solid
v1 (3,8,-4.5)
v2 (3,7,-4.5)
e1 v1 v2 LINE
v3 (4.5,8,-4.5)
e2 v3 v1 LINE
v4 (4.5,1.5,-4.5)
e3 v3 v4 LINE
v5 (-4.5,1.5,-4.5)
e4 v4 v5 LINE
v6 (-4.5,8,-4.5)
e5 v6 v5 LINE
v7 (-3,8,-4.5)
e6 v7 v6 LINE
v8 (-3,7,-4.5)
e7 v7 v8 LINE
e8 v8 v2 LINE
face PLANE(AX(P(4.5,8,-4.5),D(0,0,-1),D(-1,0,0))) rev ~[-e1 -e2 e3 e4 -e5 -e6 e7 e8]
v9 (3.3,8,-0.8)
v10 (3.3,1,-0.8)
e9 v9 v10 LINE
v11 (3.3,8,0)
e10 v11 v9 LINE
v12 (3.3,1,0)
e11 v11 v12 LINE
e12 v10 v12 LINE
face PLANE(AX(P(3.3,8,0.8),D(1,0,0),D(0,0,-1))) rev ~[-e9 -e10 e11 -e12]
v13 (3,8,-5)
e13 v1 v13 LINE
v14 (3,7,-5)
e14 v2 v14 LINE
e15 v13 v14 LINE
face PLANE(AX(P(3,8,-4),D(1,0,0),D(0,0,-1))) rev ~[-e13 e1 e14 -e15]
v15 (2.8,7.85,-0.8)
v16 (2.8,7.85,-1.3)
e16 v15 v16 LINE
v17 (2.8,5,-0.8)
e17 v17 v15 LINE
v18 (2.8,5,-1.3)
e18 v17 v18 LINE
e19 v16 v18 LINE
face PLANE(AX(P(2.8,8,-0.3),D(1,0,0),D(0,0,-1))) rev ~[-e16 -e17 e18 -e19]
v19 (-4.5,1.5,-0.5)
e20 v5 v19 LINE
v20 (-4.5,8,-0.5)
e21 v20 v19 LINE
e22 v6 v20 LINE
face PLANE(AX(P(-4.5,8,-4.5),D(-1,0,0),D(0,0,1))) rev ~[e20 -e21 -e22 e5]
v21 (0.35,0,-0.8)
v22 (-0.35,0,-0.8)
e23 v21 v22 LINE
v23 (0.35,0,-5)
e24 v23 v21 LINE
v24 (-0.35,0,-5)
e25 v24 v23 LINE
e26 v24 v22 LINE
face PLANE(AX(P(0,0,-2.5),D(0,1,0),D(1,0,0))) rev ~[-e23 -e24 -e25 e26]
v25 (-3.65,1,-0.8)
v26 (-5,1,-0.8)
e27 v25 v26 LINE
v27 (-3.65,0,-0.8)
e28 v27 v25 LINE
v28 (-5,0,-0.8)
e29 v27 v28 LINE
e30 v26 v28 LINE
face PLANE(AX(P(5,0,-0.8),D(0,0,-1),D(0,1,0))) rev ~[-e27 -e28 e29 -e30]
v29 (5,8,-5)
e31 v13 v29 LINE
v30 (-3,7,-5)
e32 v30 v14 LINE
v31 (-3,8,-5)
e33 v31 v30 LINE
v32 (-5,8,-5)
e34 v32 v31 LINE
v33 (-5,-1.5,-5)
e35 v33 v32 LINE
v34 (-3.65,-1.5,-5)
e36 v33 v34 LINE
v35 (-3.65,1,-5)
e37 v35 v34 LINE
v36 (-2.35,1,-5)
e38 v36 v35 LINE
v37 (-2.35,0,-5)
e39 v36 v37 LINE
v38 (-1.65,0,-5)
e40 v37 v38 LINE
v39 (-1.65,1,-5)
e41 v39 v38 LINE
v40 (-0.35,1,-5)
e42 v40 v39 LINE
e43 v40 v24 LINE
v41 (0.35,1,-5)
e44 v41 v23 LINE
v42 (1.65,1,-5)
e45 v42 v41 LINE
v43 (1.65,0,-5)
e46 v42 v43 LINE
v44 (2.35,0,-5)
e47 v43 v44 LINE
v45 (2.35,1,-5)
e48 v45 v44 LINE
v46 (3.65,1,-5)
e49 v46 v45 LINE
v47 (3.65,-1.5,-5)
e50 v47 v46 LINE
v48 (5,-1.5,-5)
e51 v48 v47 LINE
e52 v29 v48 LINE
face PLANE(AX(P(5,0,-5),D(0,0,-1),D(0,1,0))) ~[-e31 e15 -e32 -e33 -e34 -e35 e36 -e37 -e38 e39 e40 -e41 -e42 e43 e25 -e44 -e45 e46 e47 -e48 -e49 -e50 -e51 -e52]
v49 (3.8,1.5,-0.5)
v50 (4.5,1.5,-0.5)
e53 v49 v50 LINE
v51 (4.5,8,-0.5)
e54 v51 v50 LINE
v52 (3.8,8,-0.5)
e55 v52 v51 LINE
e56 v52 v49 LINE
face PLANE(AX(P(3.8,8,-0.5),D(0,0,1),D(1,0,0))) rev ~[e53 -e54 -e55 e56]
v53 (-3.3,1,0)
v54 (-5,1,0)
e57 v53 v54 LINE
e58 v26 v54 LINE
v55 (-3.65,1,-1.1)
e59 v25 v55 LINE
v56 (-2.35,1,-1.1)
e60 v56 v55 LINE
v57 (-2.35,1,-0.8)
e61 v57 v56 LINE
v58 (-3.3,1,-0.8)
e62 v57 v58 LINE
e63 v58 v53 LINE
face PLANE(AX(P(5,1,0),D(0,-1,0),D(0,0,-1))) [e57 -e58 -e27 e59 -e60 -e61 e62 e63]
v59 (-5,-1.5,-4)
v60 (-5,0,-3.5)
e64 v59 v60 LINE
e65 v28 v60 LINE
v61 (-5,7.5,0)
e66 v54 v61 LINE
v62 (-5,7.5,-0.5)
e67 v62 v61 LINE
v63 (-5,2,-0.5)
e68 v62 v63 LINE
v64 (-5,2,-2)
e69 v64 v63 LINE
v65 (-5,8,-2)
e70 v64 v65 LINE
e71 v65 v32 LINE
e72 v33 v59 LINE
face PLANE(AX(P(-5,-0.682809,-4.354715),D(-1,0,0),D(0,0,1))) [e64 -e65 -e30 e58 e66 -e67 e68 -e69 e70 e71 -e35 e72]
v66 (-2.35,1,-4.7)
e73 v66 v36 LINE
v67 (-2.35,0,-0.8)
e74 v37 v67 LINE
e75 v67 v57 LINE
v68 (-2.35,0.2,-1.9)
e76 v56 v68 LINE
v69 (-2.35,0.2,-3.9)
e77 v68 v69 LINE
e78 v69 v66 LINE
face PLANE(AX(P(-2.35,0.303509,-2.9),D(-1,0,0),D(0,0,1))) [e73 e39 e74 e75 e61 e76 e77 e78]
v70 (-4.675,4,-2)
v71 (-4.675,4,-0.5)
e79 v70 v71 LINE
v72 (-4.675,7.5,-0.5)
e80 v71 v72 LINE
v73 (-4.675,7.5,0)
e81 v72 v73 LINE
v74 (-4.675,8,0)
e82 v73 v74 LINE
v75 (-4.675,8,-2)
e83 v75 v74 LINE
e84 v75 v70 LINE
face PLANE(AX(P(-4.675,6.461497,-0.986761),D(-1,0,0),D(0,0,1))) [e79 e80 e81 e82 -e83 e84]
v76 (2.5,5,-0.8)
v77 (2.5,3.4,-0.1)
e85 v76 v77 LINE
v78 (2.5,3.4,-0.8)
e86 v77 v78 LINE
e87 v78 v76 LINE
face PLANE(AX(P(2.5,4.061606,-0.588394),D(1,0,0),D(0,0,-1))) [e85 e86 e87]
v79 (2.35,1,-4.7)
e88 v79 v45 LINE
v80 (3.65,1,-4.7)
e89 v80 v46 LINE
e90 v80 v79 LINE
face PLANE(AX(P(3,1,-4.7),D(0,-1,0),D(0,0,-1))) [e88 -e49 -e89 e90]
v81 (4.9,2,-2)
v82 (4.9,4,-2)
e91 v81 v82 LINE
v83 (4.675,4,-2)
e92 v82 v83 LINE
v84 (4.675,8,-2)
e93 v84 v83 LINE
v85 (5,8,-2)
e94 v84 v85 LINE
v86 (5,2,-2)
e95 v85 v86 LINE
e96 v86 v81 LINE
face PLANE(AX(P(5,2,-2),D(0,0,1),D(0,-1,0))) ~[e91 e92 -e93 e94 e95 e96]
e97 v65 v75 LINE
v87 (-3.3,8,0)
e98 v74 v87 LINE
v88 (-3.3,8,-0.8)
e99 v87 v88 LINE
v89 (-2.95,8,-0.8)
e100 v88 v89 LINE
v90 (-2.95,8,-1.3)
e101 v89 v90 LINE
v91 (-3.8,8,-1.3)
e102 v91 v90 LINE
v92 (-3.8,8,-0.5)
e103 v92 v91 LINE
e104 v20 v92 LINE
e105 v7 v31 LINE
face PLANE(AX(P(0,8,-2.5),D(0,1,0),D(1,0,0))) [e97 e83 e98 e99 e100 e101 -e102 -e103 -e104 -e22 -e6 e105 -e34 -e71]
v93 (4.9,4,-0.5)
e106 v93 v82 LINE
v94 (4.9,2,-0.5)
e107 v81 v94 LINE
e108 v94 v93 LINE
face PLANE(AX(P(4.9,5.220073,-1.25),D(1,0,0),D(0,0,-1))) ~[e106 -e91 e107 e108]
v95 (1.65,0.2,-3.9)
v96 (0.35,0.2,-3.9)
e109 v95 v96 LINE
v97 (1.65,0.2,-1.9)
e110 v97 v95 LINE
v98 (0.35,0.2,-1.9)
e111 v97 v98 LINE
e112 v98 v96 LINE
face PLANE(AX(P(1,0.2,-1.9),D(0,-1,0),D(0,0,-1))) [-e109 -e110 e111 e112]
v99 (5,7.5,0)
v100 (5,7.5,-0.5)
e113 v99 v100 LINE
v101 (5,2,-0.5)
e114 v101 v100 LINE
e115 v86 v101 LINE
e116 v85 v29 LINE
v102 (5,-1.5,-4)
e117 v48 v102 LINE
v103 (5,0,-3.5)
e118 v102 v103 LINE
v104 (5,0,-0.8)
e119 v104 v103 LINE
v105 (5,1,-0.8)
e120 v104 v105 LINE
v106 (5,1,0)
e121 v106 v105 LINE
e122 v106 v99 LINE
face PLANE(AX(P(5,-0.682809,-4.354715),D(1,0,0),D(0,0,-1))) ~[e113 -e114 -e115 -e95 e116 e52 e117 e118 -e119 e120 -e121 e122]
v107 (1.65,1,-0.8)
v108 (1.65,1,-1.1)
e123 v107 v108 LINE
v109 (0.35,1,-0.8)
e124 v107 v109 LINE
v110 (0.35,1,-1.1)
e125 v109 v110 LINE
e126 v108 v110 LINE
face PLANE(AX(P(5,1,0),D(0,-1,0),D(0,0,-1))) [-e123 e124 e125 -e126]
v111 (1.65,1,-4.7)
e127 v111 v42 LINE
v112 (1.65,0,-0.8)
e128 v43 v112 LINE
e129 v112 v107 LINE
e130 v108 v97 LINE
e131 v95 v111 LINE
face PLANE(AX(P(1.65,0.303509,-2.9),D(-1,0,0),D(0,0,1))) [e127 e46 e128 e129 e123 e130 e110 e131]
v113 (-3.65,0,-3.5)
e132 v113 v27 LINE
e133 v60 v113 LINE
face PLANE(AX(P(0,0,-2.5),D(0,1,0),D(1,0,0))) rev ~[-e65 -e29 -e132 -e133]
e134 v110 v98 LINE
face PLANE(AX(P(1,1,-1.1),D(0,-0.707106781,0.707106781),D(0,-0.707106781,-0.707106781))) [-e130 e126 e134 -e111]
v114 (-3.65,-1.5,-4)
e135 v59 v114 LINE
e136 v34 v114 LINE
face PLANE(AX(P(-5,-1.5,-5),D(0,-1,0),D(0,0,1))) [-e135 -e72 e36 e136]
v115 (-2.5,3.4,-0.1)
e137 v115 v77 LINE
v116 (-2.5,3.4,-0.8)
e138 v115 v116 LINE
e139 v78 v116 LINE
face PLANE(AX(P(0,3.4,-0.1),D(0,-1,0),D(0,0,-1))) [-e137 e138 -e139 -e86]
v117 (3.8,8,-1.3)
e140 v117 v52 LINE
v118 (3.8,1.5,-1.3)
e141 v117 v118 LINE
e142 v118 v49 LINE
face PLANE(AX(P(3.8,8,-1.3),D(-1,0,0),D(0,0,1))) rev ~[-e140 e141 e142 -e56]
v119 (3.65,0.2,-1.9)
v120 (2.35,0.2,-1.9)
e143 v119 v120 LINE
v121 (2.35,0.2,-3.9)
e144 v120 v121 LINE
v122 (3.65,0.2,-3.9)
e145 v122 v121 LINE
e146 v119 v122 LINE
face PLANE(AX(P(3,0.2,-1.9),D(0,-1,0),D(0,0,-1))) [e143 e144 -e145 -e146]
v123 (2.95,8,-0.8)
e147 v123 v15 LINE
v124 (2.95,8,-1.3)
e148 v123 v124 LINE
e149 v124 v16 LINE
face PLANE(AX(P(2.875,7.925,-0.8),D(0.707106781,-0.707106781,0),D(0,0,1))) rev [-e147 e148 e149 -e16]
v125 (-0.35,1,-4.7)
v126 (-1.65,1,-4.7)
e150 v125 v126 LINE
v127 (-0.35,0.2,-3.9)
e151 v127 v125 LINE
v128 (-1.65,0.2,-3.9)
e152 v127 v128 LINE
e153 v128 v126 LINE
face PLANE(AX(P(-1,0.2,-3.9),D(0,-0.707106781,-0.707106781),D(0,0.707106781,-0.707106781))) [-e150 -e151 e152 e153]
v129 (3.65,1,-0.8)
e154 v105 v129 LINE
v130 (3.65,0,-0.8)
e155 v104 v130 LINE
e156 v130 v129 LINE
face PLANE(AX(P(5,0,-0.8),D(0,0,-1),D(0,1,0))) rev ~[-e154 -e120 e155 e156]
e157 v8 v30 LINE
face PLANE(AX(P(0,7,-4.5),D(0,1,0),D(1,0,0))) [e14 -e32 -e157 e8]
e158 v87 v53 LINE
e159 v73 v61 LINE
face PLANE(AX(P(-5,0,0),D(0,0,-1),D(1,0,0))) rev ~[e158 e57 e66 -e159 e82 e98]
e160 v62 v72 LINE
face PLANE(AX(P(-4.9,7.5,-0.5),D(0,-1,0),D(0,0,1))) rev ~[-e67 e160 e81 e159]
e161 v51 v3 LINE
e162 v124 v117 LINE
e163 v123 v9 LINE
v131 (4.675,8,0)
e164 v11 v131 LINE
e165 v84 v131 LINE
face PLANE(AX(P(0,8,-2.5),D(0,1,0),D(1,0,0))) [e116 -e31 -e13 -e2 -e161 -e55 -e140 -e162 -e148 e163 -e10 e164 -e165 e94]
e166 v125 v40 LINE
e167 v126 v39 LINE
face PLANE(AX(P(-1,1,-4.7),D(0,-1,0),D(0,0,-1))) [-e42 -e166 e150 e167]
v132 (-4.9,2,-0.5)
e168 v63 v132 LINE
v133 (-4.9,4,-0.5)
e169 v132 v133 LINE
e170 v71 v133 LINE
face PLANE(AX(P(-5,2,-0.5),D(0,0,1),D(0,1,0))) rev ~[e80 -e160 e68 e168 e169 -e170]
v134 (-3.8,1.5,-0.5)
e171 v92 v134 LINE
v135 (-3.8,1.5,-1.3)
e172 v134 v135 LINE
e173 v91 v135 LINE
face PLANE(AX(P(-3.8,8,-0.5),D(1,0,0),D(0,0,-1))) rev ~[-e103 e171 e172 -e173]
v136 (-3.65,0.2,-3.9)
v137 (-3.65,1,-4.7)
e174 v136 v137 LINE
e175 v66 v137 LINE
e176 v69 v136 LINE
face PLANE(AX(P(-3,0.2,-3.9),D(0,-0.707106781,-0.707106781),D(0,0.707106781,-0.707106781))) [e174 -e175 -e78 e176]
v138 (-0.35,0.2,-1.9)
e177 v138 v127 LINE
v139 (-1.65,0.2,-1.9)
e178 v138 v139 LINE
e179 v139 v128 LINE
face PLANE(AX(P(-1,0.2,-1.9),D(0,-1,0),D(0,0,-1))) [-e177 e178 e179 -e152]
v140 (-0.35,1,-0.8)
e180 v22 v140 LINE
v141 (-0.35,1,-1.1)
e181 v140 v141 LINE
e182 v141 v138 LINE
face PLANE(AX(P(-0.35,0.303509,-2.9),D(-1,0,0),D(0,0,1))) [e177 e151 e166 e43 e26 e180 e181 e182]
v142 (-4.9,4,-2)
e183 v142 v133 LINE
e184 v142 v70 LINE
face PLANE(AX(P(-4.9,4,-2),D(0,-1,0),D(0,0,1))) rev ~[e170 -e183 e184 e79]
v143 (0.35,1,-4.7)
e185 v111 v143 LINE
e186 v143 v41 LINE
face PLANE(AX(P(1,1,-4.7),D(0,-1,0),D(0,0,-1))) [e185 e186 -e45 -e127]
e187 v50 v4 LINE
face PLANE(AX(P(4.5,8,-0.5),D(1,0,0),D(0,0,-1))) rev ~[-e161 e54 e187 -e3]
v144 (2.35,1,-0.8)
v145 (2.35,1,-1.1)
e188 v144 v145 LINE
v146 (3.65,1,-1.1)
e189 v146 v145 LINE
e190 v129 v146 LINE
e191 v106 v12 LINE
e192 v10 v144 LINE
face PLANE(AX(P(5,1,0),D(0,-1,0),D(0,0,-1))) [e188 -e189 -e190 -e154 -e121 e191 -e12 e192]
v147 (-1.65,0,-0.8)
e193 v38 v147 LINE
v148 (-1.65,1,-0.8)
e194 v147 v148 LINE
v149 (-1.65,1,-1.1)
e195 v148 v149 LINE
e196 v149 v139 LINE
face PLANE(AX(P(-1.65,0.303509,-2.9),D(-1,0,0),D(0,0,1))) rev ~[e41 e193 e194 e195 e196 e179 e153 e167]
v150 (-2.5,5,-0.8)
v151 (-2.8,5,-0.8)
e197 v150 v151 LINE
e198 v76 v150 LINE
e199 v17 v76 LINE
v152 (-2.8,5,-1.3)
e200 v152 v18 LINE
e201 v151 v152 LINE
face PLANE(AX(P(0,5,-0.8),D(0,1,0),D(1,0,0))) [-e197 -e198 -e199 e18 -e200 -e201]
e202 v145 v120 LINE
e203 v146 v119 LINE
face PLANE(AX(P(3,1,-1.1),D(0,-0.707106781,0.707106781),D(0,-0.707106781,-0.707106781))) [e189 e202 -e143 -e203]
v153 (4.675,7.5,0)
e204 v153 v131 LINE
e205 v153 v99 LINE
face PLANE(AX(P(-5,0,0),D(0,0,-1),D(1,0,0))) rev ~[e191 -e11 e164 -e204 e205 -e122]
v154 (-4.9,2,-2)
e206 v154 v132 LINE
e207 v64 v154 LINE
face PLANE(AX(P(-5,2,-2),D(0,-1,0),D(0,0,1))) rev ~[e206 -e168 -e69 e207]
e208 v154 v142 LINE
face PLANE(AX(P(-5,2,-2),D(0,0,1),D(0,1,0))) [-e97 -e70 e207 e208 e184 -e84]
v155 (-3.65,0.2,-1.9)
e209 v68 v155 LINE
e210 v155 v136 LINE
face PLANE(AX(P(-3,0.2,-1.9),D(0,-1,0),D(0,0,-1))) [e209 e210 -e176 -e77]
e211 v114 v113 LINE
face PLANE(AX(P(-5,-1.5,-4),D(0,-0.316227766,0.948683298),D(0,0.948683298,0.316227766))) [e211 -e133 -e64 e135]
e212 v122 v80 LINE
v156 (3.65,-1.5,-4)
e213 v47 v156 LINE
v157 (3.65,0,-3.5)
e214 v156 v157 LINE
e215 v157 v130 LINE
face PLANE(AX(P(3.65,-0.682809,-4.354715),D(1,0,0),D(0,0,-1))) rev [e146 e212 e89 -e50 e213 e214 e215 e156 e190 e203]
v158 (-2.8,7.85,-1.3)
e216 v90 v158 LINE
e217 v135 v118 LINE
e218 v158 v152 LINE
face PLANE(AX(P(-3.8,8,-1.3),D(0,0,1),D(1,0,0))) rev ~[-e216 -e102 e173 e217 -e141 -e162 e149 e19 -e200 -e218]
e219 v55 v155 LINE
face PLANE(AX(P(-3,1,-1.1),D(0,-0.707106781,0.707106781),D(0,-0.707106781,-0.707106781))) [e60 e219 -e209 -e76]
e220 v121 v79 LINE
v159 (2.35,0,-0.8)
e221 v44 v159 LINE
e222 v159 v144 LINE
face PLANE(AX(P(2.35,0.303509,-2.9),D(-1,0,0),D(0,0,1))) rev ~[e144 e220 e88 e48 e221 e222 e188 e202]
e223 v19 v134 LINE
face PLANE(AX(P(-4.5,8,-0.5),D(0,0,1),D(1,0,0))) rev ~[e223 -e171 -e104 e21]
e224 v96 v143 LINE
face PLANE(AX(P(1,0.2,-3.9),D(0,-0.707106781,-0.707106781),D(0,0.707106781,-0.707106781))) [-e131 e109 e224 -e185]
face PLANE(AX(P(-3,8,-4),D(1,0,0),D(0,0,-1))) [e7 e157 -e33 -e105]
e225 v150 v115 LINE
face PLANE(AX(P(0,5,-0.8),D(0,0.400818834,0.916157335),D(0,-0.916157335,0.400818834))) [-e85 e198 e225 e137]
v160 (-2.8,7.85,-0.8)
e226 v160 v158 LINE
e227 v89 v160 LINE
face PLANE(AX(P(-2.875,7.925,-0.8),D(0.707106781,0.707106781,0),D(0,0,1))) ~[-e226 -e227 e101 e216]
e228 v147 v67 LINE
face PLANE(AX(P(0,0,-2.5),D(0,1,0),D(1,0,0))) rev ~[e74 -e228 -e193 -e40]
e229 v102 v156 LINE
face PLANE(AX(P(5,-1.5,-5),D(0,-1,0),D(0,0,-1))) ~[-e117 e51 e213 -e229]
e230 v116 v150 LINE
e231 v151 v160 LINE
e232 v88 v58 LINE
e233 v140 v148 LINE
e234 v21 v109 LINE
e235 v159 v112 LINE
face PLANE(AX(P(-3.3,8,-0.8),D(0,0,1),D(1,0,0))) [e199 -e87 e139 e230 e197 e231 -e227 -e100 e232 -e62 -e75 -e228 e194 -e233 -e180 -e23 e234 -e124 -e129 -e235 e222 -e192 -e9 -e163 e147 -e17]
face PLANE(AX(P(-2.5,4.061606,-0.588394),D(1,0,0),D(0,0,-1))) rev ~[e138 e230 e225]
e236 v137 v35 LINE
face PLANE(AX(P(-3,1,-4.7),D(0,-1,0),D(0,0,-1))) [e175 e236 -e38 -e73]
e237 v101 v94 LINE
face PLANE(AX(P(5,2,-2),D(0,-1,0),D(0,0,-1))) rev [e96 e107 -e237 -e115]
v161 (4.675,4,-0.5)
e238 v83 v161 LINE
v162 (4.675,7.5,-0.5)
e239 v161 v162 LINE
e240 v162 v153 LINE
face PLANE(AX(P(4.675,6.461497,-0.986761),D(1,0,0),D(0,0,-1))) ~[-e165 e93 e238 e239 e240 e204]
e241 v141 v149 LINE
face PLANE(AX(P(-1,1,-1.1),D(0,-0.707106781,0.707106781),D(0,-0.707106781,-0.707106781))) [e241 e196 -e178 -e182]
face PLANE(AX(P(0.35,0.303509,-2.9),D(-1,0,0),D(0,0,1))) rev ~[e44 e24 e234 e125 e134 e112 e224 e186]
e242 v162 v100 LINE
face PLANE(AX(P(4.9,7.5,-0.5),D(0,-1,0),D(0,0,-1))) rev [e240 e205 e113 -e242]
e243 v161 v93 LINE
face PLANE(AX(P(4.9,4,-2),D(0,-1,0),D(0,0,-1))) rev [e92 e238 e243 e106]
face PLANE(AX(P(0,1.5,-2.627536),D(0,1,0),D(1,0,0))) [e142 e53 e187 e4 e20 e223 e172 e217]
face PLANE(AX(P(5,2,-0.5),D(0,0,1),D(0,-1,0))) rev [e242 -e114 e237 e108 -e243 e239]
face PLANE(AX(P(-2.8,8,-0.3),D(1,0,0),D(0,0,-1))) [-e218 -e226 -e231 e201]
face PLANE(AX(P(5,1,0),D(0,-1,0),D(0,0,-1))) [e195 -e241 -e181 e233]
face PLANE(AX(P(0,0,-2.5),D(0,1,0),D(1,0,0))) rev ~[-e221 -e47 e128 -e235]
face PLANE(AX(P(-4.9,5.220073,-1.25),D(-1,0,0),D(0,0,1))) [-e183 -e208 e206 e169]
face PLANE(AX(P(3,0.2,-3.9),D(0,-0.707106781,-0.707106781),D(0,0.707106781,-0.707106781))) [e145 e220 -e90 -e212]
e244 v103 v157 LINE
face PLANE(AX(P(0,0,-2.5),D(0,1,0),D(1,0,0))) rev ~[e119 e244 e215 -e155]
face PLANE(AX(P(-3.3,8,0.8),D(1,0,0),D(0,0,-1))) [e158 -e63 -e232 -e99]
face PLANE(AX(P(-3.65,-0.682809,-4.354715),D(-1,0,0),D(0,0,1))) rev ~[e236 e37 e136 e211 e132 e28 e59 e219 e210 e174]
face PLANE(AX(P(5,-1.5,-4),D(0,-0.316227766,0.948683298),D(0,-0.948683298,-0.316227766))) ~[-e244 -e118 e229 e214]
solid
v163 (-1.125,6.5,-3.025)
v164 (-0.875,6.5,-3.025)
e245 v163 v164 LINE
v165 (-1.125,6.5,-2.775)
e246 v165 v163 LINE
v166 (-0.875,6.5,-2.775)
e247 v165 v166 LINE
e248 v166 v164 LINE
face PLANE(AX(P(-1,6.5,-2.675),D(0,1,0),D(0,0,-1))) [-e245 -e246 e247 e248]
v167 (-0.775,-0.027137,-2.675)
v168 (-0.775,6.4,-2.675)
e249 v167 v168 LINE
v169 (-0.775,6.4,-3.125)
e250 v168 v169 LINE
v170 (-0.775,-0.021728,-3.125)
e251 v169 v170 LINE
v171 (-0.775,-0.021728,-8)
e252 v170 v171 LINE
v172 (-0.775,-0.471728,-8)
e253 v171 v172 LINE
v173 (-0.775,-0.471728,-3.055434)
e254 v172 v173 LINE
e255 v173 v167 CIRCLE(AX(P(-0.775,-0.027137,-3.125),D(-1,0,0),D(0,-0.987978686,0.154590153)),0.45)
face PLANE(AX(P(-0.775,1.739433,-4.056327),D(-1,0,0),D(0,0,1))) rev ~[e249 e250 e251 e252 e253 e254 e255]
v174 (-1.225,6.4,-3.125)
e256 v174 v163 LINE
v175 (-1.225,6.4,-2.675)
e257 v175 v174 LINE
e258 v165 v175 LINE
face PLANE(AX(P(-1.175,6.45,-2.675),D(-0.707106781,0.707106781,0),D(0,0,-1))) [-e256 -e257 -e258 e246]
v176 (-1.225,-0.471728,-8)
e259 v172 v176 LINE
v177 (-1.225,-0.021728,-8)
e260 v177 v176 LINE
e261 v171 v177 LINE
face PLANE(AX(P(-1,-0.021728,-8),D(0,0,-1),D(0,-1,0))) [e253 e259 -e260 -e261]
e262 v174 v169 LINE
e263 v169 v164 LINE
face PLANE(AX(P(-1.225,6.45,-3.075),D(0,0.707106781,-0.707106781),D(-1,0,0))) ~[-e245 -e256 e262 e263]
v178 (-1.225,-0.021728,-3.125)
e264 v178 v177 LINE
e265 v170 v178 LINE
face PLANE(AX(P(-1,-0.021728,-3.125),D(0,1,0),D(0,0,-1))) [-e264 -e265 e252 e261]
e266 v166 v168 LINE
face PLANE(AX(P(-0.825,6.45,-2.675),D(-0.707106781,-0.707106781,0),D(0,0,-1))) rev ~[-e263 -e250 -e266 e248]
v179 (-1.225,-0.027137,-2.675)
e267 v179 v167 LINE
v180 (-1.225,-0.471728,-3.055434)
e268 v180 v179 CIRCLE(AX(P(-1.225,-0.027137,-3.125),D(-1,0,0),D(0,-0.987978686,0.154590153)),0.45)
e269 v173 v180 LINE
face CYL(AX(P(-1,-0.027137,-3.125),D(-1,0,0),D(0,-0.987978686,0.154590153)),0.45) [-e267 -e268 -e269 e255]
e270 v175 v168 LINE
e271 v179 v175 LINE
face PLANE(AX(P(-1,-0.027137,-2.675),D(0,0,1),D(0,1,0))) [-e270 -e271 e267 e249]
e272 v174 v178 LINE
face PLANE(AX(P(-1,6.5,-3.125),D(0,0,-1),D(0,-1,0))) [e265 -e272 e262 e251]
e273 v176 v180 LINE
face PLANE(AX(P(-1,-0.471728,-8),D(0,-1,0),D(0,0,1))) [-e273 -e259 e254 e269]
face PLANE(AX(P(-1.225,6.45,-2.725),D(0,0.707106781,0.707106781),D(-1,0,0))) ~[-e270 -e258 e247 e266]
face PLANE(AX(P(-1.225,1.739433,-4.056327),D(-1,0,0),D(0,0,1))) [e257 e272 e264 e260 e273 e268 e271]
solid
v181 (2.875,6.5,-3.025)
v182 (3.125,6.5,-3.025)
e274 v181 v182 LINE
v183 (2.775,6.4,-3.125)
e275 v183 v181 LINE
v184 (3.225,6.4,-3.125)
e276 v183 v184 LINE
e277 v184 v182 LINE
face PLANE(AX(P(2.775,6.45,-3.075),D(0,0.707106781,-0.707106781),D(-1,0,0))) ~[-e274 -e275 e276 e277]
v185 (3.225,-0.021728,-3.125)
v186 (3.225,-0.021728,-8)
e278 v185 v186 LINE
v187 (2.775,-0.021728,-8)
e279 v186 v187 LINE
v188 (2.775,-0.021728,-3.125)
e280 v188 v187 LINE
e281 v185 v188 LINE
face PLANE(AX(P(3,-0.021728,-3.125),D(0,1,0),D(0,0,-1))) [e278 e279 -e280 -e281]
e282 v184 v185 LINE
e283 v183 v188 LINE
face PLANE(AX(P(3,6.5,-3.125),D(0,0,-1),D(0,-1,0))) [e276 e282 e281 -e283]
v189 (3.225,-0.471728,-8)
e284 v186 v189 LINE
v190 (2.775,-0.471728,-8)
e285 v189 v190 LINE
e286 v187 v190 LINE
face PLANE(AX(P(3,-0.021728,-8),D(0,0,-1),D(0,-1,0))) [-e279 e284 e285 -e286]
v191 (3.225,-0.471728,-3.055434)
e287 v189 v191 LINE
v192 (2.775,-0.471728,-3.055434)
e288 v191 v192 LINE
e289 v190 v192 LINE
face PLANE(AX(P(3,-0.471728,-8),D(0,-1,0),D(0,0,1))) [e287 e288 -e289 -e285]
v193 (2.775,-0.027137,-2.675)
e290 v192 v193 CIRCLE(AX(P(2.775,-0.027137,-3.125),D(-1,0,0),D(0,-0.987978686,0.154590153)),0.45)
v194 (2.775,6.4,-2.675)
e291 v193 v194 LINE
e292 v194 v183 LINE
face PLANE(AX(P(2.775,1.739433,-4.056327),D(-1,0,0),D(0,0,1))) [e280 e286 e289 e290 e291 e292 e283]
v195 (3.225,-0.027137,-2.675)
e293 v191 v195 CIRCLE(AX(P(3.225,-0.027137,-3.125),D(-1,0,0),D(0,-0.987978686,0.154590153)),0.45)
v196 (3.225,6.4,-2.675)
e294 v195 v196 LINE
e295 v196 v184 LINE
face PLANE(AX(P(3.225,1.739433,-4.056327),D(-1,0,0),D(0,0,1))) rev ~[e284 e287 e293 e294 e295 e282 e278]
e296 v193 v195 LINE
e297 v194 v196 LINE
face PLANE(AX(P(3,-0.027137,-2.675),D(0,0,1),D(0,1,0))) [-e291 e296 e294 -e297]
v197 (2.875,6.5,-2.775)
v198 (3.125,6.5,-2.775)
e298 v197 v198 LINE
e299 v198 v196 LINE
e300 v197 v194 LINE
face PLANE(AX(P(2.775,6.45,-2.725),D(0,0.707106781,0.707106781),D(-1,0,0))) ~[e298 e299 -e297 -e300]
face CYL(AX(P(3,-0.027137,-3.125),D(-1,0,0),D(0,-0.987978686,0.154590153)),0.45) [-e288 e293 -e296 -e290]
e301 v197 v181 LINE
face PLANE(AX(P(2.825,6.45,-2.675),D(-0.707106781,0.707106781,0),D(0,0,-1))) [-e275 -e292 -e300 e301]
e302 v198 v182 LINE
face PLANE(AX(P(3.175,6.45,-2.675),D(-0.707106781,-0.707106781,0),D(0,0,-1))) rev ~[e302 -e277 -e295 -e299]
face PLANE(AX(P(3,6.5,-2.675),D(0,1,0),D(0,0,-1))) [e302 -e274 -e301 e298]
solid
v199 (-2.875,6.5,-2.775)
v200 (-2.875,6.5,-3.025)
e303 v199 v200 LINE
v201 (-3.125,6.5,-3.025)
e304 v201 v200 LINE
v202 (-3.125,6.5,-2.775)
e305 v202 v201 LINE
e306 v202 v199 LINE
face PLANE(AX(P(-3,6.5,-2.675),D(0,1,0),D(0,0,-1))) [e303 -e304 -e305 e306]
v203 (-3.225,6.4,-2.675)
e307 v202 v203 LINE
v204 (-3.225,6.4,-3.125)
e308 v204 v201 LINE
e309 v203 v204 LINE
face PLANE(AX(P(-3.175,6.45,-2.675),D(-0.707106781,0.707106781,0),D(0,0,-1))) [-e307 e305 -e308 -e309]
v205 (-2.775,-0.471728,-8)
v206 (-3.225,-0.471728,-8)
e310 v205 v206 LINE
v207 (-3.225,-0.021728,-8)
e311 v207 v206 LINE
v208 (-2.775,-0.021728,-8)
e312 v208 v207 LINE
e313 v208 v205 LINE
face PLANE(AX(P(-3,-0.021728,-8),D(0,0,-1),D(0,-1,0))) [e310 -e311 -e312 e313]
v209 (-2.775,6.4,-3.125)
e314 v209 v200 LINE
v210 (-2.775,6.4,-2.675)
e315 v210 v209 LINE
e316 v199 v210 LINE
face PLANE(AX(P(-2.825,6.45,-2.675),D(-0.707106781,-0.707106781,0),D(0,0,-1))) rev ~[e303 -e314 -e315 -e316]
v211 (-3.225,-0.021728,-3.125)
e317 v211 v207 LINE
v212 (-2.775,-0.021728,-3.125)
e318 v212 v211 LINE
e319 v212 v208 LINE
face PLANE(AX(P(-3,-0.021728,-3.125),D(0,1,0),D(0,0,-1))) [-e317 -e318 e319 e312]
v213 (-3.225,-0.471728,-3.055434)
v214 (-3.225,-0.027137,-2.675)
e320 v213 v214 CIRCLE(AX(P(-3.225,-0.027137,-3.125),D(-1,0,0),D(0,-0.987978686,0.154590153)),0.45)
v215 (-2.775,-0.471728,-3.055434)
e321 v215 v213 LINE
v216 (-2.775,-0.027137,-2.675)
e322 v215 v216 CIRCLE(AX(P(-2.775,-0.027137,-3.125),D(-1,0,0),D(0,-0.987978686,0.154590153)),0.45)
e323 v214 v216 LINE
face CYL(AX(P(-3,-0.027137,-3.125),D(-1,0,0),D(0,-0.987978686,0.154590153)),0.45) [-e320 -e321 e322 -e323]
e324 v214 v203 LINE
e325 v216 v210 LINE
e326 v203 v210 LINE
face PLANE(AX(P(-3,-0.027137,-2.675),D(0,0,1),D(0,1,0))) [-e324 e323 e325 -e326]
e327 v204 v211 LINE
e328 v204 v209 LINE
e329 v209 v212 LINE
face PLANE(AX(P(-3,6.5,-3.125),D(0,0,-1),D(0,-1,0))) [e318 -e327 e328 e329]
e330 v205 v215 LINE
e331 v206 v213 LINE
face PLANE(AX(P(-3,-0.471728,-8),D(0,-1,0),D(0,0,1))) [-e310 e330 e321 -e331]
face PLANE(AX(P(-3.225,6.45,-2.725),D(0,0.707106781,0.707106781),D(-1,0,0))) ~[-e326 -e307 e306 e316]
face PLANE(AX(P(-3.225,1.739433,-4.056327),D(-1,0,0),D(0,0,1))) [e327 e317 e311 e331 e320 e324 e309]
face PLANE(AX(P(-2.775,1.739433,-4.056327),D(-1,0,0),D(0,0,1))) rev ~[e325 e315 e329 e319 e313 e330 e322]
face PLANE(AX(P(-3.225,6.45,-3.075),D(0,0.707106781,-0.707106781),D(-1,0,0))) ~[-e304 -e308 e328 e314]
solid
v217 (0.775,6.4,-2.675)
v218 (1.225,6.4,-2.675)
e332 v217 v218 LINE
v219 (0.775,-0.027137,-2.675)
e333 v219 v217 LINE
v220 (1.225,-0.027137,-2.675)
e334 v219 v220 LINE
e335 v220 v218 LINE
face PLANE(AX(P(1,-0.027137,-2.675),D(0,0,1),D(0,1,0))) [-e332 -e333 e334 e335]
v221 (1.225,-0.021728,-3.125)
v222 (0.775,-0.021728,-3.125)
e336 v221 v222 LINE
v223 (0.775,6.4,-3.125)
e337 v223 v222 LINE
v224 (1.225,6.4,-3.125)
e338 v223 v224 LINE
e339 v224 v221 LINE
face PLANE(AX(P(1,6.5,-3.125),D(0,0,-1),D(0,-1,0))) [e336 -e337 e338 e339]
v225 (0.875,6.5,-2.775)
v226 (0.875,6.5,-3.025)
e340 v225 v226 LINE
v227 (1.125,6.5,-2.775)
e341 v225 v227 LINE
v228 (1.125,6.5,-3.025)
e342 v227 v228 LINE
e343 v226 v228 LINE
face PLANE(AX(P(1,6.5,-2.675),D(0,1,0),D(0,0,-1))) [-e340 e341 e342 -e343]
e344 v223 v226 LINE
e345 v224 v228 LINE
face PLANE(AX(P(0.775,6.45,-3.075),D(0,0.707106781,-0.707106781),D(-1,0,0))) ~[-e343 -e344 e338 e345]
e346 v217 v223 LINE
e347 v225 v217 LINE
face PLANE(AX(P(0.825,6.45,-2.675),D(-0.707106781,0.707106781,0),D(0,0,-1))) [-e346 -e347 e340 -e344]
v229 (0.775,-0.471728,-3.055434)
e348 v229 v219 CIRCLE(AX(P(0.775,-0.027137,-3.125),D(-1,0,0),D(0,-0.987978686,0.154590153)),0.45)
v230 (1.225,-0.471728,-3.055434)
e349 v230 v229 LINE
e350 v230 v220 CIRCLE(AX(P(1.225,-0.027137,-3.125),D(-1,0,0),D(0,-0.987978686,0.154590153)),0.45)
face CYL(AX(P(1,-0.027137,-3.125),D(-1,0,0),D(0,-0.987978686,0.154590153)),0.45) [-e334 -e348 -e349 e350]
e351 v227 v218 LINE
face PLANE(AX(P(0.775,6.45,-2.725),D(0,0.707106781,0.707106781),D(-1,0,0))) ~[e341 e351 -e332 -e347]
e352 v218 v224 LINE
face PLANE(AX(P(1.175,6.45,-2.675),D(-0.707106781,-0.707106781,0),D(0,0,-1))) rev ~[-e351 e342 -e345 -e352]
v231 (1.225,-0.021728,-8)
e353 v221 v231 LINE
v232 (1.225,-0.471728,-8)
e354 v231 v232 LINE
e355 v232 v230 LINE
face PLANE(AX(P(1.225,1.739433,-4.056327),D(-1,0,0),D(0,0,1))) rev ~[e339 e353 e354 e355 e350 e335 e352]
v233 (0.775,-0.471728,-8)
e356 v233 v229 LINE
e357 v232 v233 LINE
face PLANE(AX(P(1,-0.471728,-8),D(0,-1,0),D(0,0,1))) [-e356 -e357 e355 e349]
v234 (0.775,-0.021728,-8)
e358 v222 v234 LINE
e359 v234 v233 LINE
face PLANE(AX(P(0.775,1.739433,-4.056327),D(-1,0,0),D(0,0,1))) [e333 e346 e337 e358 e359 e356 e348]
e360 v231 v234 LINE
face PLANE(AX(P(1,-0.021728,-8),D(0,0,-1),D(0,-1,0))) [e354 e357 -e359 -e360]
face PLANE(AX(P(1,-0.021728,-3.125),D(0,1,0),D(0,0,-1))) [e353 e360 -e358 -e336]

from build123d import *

# Parameters (mm, degrees)
ESQUISSE1_W                = 10
ESQUISSE1_H                = 5
BOSS_EXTRU_1_DEPTH         = 8
ESQUISSE7_W                = 0.8
ESQUISSE7_H                = 1
ENL_V_MAT_EXTRU_5_DEPTH    = 14.747727085
ENL_V_MAT_EXTRU_6_DEPTH    = 0.65
R_P_TITION_LIN_AIRE3_COUNT = 4
R_P_TITION_LIN_AIRE3_PITCH = 2
ESQUISSE2_W                = 6.6
ESQUISSE2_H                = 1.6
ENL_V_MAT_EXTRU_1_DEPTH    = 11.677078252
ENL_V_MAT_EXTRU_2_DEPTH    = 6.5
ESQUISSE5_W                = 6
ESQUISSE5_H                = 1
ENL_V_MAT_EXTRU_3_DEPTH    = 1
ESQUISSE6_W                = 5.6
ESQUISSE6_H                = 1
ENL_V_MAT_EXTRU_4_DEPTH    = 3
BOSS_EXTRU_2_DEPTH         = 2.5
CHANFREIN1_SIZE            = 0.15
EXTRU_MINCE2_DEPTH         = 0.225
R_P_TITION_LIN_AIRE4_COUNT = 4
R_P_TITION_LIN_AIRE4_PITCH = 2
BOSS_EXTRU_4_DEPTH         = 1.35
CHANFREIN2_SIZE            = 0.1
ESQUISSE19_W               = 1.5
ESQUISSE19_H               = 6.440145877
ENL_V_MAT_EXTRU_7_DEPTH    = 0.1
ENL_V_MAT_EXTRU_8_DEPTH    = 0.225
CHANFREIN3_SIZE            = 0.1
CHANFREIN4_SIZE            = 0.1
CHANFREIN5_SIZE            = 0.1


with BuildPart() as part:
    # Esquisse1 → Boss.-Extru.1 (new body)
    with BuildSketch(Plane(origin=(0, 0, 0), x_dir=(1, 0, 0), z_dir=(0, 1, 0))):
        with Locations((0, 2.5)):
            Rectangle(ESQUISSE1_W, ESQUISSE1_H)
    extrude(amount=BOSS_EXTRU_1_DEPTH)

    # Esquisse7 → Enlèv. mat.-Extru.5 (cut, through all)
    with BuildSketch(Plane(origin=(5, 0, 0), x_dir=(0, 0, -1), z_dir=(1, 0, 0))):
        with Locations((0.4, 0.5)):
            Rectangle(ESQUISSE7_W, ESQUISSE7_H)
    extrude(amount=-ENL_V_MAT_EXTRU_5_DEPTH, mode=Mode.SUBTRACT)

    # Esquisse8 → Enlèv. mat.-Extru.6 (cut, symmetric)
    with BuildSketch(Plane(origin=(3, 0, 0), x_dir=(0, 0, -1), z_dir=(1, 0, 0))):
        Polygon((0.8, 1), (1.1, 1), (1.9, 0.2), (3.9, 0.2), (4.7, 1), (5, 1), (5, 0), (0.8, 0), align=None)
    enl_v_mat_extru_6 = extrude(amount=ENL_V_MAT_EXTRU_6_DEPTH, both=True, mode=Mode.SUBTRACT)

    # Répétition linéaire3: Enlèv. mat.-Extru.6 ×4
    with Locations(*[(-i * R_P_TITION_LIN_AIRE3_PITCH, 0, 0) for i in range(1, R_P_TITION_LIN_AIRE3_COUNT)]):
        add(enl_v_mat_extru_6, mode=Mode.SUBTRACT)

    # Esquisse2 → Enlèv. mat.-Extru.1 (cut, through all)
    with BuildSketch(Plane(origin=(0, 8, 0), x_dir=(1, 0, 0), z_dir=(0, 1, 0))):
        Rectangle(ESQUISSE2_W, ESQUISSE2_H)
    extrude(amount=-ENL_V_MAT_EXTRU_1_DEPTH, mode=Mode.SUBTRACT)

    # Esquisse4 → Enlèv. mat.-Extru.2 (cut)
    with BuildSketch(Plane(origin=(0, 8, 0), x_dir=(1, 0, 0), z_dir=(0, 1, 0))):
        Polygon((-3.8, 1.3), (3.8, 1.3), (3.8, 0.5), (4.5, 0.5), (4.5, 4.5), (-4.5, 4.5), (-4.5, 0.5), (-3.8, 0.5), align=None)
    extrude(amount=-ENL_V_MAT_EXTRU_2_DEPTH, mode=Mode.SUBTRACT)

    # Esquisse5 → Enlèv. mat.-Extru.3 (cut)
    with BuildSketch(Plane(origin=(0, 8, 0), x_dir=(1, 0, 0), z_dir=(0, 1, 0))):
        with Locations((0, 4.5)):
            Rectangle(ESQUISSE5_W, ESQUISSE5_H)
    extrude(amount=-ENL_V_MAT_EXTRU_3_DEPTH, mode=Mode.SUBTRACT)

    # Esquisse6 → Enlèv. mat.-Extru.4 (cut)
    with BuildSketch(Plane(origin=(0, 8, 0), x_dir=(1, 0, 0), z_dir=(0, 1, 0))):
        with Locations((0, 0.8)):
            Rectangle(ESQUISSE6_W, ESQUISSE6_H)
    extrude(amount=-ENL_V_MAT_EXTRU_4_DEPTH, mode=Mode.SUBTRACT)

    # Esquisse11 → Boss.-Extru.2 (add, symmetric)
    with BuildSketch(Plane(origin=(0, 0, 0), x_dir=(0, 0, -1), z_dir=(1, 0, 0))):
        Polygon((0.8, 5), (0.1, 3.4), (0.8, 3.4), align=None)
    extrude(amount=BOSS_EXTRU_2_DEPTH, both=True)

    # Chanfrein1
    chanfrein1_edges = [part.edges().sort_by_distance(p)[0] for p in [
        (2.8, 8, -1.05),
        (-2.8, 8, -1.05),
    ]]
    chamfer(chanfrein1_edges, length=CHANFREIN1_SIZE)

    # Esquisse18 → Boss.-Extru.4 (add)
    with BuildSketch(Plane.ZY.offset(5)):
        Polygon((-5, 0), (-5, -1.5), (-4, -1.5), (-3.5, 0), align=None)
    boss_extru_4 = extrude(amount=-BOSS_EXTRU_4_DEPTH)

    # Esquisse19 → Enlèv. mat.-Extru.7 (cut)
    with BuildSketch(Plane.ZY.offset(5)):
        with Locations((-1.25, 5.220072939)):
            Rectangle(ESQUISSE19_W, ESQUISSE19_H)
    enl_v_mat_extru_7 = extrude(amount=-ENL_V_MAT_EXTRU_7_DEPTH, mode=Mode.SUBTRACT)

    # Esquisse20 → Enlèv. mat.-Extru.8 (cut, symmetric)
    with BuildSketch(Plane.ZY.offset(4.9)):
        Polygon((-2, 4), (-0.5, 4), (-0.5, 7.5), (0.56066855, 7.5), (0.56066855, 8.388803524), (-2, 8.388803524), align=None)
    enl_v_mat_extru_8 = extrude(amount=ENL_V_MAT_EXTRU_8_DEPTH, both=True, mode=Mode.SUBTRACT)

    # Symétrie5: Enlèv. mat.-Extru.7 across plane
    add(enl_v_mat_extru_7.mirror(Plane(origin=(0, 0, 0), x_dir=(0, 0, 1), z_dir=(1, 0, 0))), mode=Mode.SUBTRACT)

    # Symétrie6: Enlèv. mat.-Extru.8 across plane
    add(enl_v_mat_extru_8.mirror(Plane(origin=(0, 0, 0), x_dir=(0, 0, 1), z_dir=(1, 0, 0))), mode=Mode.SUBTRACT)

    # Symétrie8: Boss.-Extru.4 across plane
    add(boss_extru_4.mirror(Plane(origin=(0, 0, 0), x_dir=(0, 0, 1), z_dir=(1, 0, 0))))


with BuildPart() as body_2:
    # Esquisse16 → Extru.-Mince2 (new, symmetric)
    with BuildSketch(Plane.ZY.offset(-3)):
        with BuildLine():
            Line((-3.125, 6.5), (-3.125, -0.021727788))
            Line((-3.125, -0.021727788), (-8, -0.021727788))
            Line((-8, -0.021727788), (-8, -0.471727788))
            Line((-8, -0.471727788), (-3.05543443, -0.471727788))
            ThreePointArc((-3.05543443, -0.471727788), (-2.783090285, -0.319708306), (-2.675, -0.02713738))
            Line((-2.675, -0.02713738), (-2.675, 6.5))
            Line((-2.675, 6.5), (-3.125, 6.5))
        make_face()
    extrude(amount=EXTRU_MINCE2_DEPTH, both=True)


with BuildPart() as r_p_tition_lin_aire4_1:
    # Répétition linéaire4: pattern copy
    add(body_2.part.moved(Location(Vector(-1, 0, 0) * (1 * R_P_TITION_LIN_AIRE4_PITCH))))

    # Chanfrein5
    chanfrein5_edges = [r_p_tition_lin_aire4_1.edges().sort_by_distance(p)[0] for p in [
        (1, 6.5, -3.125),
        (1, 6.5, -2.675),
        (0.775, 6.5, -2.9),
        (1.225, 6.5, -2.9),
    ]]
    chamfer(chanfrein5_edges, length=CHANFREIN5_SIZE)


with BuildPart() as r_p_tition_lin_aire4_2:
    # Répétition linéaire4: pattern copy
    add(body_2.part.moved(Location(Vector(-1, 0, 0) * (2 * R_P_TITION_LIN_AIRE4_PITCH))))

    # Chanfrein4
    chanfrein4_edges = [r_p_tition_lin_aire4_2.edges().sort_by_distance(p)[0] for p in [
        (-1, 6.5, -3.125),
        (-1, 6.5, -2.675),
        (-1.225, 6.5, -2.9),
        (-0.775, 6.5, -2.9),
    ]]
    chamfer(chanfrein4_edges, length=CHANFREIN4_SIZE)


with BuildPart() as r_p_tition_lin_aire4_3:
    # Répétition linéaire4: pattern copy
    add(body_2.part.moved(Location(Vector(-1, 0, 0) * (3 * R_P_TITION_LIN_AIRE4_PITCH))))

    # Chanfrein3
    chanfrein3_edges = [r_p_tition_lin_aire4_3.edges().sort_by_distance(p)[0] for p in [
        (-3, 6.5, -3.125),
        (-3, 6.5, -2.675),
        (-3.225, 6.5, -2.9),
        (-2.775, 6.5, -2.9),
    ]]
    chamfer(chanfrein3_edges, length=CHANFREIN3_SIZE)


with BuildPart() as body_2_1:
    add(body_2.part)

    # Chanfrein2
    chanfrein2_edges = [body_2_1.edges().sort_by_distance(p)[0] for p in [
        (3, 6.5, -3.125),
        (3, 6.5, -2.675),
        (2.775, 6.5, -2.9),
        (3.225, 6.5, -2.9),
    ]]
    chamfer(chanfrein2_edges, length=CHANFREIN2_SIZE)


solid = Compound([part.part, r_p_tition_lin_aire4_1.part, r_p_tition_lin_aire4_2.part, r_p_tition_lin_aire4_3.part, body_2_1.part])
